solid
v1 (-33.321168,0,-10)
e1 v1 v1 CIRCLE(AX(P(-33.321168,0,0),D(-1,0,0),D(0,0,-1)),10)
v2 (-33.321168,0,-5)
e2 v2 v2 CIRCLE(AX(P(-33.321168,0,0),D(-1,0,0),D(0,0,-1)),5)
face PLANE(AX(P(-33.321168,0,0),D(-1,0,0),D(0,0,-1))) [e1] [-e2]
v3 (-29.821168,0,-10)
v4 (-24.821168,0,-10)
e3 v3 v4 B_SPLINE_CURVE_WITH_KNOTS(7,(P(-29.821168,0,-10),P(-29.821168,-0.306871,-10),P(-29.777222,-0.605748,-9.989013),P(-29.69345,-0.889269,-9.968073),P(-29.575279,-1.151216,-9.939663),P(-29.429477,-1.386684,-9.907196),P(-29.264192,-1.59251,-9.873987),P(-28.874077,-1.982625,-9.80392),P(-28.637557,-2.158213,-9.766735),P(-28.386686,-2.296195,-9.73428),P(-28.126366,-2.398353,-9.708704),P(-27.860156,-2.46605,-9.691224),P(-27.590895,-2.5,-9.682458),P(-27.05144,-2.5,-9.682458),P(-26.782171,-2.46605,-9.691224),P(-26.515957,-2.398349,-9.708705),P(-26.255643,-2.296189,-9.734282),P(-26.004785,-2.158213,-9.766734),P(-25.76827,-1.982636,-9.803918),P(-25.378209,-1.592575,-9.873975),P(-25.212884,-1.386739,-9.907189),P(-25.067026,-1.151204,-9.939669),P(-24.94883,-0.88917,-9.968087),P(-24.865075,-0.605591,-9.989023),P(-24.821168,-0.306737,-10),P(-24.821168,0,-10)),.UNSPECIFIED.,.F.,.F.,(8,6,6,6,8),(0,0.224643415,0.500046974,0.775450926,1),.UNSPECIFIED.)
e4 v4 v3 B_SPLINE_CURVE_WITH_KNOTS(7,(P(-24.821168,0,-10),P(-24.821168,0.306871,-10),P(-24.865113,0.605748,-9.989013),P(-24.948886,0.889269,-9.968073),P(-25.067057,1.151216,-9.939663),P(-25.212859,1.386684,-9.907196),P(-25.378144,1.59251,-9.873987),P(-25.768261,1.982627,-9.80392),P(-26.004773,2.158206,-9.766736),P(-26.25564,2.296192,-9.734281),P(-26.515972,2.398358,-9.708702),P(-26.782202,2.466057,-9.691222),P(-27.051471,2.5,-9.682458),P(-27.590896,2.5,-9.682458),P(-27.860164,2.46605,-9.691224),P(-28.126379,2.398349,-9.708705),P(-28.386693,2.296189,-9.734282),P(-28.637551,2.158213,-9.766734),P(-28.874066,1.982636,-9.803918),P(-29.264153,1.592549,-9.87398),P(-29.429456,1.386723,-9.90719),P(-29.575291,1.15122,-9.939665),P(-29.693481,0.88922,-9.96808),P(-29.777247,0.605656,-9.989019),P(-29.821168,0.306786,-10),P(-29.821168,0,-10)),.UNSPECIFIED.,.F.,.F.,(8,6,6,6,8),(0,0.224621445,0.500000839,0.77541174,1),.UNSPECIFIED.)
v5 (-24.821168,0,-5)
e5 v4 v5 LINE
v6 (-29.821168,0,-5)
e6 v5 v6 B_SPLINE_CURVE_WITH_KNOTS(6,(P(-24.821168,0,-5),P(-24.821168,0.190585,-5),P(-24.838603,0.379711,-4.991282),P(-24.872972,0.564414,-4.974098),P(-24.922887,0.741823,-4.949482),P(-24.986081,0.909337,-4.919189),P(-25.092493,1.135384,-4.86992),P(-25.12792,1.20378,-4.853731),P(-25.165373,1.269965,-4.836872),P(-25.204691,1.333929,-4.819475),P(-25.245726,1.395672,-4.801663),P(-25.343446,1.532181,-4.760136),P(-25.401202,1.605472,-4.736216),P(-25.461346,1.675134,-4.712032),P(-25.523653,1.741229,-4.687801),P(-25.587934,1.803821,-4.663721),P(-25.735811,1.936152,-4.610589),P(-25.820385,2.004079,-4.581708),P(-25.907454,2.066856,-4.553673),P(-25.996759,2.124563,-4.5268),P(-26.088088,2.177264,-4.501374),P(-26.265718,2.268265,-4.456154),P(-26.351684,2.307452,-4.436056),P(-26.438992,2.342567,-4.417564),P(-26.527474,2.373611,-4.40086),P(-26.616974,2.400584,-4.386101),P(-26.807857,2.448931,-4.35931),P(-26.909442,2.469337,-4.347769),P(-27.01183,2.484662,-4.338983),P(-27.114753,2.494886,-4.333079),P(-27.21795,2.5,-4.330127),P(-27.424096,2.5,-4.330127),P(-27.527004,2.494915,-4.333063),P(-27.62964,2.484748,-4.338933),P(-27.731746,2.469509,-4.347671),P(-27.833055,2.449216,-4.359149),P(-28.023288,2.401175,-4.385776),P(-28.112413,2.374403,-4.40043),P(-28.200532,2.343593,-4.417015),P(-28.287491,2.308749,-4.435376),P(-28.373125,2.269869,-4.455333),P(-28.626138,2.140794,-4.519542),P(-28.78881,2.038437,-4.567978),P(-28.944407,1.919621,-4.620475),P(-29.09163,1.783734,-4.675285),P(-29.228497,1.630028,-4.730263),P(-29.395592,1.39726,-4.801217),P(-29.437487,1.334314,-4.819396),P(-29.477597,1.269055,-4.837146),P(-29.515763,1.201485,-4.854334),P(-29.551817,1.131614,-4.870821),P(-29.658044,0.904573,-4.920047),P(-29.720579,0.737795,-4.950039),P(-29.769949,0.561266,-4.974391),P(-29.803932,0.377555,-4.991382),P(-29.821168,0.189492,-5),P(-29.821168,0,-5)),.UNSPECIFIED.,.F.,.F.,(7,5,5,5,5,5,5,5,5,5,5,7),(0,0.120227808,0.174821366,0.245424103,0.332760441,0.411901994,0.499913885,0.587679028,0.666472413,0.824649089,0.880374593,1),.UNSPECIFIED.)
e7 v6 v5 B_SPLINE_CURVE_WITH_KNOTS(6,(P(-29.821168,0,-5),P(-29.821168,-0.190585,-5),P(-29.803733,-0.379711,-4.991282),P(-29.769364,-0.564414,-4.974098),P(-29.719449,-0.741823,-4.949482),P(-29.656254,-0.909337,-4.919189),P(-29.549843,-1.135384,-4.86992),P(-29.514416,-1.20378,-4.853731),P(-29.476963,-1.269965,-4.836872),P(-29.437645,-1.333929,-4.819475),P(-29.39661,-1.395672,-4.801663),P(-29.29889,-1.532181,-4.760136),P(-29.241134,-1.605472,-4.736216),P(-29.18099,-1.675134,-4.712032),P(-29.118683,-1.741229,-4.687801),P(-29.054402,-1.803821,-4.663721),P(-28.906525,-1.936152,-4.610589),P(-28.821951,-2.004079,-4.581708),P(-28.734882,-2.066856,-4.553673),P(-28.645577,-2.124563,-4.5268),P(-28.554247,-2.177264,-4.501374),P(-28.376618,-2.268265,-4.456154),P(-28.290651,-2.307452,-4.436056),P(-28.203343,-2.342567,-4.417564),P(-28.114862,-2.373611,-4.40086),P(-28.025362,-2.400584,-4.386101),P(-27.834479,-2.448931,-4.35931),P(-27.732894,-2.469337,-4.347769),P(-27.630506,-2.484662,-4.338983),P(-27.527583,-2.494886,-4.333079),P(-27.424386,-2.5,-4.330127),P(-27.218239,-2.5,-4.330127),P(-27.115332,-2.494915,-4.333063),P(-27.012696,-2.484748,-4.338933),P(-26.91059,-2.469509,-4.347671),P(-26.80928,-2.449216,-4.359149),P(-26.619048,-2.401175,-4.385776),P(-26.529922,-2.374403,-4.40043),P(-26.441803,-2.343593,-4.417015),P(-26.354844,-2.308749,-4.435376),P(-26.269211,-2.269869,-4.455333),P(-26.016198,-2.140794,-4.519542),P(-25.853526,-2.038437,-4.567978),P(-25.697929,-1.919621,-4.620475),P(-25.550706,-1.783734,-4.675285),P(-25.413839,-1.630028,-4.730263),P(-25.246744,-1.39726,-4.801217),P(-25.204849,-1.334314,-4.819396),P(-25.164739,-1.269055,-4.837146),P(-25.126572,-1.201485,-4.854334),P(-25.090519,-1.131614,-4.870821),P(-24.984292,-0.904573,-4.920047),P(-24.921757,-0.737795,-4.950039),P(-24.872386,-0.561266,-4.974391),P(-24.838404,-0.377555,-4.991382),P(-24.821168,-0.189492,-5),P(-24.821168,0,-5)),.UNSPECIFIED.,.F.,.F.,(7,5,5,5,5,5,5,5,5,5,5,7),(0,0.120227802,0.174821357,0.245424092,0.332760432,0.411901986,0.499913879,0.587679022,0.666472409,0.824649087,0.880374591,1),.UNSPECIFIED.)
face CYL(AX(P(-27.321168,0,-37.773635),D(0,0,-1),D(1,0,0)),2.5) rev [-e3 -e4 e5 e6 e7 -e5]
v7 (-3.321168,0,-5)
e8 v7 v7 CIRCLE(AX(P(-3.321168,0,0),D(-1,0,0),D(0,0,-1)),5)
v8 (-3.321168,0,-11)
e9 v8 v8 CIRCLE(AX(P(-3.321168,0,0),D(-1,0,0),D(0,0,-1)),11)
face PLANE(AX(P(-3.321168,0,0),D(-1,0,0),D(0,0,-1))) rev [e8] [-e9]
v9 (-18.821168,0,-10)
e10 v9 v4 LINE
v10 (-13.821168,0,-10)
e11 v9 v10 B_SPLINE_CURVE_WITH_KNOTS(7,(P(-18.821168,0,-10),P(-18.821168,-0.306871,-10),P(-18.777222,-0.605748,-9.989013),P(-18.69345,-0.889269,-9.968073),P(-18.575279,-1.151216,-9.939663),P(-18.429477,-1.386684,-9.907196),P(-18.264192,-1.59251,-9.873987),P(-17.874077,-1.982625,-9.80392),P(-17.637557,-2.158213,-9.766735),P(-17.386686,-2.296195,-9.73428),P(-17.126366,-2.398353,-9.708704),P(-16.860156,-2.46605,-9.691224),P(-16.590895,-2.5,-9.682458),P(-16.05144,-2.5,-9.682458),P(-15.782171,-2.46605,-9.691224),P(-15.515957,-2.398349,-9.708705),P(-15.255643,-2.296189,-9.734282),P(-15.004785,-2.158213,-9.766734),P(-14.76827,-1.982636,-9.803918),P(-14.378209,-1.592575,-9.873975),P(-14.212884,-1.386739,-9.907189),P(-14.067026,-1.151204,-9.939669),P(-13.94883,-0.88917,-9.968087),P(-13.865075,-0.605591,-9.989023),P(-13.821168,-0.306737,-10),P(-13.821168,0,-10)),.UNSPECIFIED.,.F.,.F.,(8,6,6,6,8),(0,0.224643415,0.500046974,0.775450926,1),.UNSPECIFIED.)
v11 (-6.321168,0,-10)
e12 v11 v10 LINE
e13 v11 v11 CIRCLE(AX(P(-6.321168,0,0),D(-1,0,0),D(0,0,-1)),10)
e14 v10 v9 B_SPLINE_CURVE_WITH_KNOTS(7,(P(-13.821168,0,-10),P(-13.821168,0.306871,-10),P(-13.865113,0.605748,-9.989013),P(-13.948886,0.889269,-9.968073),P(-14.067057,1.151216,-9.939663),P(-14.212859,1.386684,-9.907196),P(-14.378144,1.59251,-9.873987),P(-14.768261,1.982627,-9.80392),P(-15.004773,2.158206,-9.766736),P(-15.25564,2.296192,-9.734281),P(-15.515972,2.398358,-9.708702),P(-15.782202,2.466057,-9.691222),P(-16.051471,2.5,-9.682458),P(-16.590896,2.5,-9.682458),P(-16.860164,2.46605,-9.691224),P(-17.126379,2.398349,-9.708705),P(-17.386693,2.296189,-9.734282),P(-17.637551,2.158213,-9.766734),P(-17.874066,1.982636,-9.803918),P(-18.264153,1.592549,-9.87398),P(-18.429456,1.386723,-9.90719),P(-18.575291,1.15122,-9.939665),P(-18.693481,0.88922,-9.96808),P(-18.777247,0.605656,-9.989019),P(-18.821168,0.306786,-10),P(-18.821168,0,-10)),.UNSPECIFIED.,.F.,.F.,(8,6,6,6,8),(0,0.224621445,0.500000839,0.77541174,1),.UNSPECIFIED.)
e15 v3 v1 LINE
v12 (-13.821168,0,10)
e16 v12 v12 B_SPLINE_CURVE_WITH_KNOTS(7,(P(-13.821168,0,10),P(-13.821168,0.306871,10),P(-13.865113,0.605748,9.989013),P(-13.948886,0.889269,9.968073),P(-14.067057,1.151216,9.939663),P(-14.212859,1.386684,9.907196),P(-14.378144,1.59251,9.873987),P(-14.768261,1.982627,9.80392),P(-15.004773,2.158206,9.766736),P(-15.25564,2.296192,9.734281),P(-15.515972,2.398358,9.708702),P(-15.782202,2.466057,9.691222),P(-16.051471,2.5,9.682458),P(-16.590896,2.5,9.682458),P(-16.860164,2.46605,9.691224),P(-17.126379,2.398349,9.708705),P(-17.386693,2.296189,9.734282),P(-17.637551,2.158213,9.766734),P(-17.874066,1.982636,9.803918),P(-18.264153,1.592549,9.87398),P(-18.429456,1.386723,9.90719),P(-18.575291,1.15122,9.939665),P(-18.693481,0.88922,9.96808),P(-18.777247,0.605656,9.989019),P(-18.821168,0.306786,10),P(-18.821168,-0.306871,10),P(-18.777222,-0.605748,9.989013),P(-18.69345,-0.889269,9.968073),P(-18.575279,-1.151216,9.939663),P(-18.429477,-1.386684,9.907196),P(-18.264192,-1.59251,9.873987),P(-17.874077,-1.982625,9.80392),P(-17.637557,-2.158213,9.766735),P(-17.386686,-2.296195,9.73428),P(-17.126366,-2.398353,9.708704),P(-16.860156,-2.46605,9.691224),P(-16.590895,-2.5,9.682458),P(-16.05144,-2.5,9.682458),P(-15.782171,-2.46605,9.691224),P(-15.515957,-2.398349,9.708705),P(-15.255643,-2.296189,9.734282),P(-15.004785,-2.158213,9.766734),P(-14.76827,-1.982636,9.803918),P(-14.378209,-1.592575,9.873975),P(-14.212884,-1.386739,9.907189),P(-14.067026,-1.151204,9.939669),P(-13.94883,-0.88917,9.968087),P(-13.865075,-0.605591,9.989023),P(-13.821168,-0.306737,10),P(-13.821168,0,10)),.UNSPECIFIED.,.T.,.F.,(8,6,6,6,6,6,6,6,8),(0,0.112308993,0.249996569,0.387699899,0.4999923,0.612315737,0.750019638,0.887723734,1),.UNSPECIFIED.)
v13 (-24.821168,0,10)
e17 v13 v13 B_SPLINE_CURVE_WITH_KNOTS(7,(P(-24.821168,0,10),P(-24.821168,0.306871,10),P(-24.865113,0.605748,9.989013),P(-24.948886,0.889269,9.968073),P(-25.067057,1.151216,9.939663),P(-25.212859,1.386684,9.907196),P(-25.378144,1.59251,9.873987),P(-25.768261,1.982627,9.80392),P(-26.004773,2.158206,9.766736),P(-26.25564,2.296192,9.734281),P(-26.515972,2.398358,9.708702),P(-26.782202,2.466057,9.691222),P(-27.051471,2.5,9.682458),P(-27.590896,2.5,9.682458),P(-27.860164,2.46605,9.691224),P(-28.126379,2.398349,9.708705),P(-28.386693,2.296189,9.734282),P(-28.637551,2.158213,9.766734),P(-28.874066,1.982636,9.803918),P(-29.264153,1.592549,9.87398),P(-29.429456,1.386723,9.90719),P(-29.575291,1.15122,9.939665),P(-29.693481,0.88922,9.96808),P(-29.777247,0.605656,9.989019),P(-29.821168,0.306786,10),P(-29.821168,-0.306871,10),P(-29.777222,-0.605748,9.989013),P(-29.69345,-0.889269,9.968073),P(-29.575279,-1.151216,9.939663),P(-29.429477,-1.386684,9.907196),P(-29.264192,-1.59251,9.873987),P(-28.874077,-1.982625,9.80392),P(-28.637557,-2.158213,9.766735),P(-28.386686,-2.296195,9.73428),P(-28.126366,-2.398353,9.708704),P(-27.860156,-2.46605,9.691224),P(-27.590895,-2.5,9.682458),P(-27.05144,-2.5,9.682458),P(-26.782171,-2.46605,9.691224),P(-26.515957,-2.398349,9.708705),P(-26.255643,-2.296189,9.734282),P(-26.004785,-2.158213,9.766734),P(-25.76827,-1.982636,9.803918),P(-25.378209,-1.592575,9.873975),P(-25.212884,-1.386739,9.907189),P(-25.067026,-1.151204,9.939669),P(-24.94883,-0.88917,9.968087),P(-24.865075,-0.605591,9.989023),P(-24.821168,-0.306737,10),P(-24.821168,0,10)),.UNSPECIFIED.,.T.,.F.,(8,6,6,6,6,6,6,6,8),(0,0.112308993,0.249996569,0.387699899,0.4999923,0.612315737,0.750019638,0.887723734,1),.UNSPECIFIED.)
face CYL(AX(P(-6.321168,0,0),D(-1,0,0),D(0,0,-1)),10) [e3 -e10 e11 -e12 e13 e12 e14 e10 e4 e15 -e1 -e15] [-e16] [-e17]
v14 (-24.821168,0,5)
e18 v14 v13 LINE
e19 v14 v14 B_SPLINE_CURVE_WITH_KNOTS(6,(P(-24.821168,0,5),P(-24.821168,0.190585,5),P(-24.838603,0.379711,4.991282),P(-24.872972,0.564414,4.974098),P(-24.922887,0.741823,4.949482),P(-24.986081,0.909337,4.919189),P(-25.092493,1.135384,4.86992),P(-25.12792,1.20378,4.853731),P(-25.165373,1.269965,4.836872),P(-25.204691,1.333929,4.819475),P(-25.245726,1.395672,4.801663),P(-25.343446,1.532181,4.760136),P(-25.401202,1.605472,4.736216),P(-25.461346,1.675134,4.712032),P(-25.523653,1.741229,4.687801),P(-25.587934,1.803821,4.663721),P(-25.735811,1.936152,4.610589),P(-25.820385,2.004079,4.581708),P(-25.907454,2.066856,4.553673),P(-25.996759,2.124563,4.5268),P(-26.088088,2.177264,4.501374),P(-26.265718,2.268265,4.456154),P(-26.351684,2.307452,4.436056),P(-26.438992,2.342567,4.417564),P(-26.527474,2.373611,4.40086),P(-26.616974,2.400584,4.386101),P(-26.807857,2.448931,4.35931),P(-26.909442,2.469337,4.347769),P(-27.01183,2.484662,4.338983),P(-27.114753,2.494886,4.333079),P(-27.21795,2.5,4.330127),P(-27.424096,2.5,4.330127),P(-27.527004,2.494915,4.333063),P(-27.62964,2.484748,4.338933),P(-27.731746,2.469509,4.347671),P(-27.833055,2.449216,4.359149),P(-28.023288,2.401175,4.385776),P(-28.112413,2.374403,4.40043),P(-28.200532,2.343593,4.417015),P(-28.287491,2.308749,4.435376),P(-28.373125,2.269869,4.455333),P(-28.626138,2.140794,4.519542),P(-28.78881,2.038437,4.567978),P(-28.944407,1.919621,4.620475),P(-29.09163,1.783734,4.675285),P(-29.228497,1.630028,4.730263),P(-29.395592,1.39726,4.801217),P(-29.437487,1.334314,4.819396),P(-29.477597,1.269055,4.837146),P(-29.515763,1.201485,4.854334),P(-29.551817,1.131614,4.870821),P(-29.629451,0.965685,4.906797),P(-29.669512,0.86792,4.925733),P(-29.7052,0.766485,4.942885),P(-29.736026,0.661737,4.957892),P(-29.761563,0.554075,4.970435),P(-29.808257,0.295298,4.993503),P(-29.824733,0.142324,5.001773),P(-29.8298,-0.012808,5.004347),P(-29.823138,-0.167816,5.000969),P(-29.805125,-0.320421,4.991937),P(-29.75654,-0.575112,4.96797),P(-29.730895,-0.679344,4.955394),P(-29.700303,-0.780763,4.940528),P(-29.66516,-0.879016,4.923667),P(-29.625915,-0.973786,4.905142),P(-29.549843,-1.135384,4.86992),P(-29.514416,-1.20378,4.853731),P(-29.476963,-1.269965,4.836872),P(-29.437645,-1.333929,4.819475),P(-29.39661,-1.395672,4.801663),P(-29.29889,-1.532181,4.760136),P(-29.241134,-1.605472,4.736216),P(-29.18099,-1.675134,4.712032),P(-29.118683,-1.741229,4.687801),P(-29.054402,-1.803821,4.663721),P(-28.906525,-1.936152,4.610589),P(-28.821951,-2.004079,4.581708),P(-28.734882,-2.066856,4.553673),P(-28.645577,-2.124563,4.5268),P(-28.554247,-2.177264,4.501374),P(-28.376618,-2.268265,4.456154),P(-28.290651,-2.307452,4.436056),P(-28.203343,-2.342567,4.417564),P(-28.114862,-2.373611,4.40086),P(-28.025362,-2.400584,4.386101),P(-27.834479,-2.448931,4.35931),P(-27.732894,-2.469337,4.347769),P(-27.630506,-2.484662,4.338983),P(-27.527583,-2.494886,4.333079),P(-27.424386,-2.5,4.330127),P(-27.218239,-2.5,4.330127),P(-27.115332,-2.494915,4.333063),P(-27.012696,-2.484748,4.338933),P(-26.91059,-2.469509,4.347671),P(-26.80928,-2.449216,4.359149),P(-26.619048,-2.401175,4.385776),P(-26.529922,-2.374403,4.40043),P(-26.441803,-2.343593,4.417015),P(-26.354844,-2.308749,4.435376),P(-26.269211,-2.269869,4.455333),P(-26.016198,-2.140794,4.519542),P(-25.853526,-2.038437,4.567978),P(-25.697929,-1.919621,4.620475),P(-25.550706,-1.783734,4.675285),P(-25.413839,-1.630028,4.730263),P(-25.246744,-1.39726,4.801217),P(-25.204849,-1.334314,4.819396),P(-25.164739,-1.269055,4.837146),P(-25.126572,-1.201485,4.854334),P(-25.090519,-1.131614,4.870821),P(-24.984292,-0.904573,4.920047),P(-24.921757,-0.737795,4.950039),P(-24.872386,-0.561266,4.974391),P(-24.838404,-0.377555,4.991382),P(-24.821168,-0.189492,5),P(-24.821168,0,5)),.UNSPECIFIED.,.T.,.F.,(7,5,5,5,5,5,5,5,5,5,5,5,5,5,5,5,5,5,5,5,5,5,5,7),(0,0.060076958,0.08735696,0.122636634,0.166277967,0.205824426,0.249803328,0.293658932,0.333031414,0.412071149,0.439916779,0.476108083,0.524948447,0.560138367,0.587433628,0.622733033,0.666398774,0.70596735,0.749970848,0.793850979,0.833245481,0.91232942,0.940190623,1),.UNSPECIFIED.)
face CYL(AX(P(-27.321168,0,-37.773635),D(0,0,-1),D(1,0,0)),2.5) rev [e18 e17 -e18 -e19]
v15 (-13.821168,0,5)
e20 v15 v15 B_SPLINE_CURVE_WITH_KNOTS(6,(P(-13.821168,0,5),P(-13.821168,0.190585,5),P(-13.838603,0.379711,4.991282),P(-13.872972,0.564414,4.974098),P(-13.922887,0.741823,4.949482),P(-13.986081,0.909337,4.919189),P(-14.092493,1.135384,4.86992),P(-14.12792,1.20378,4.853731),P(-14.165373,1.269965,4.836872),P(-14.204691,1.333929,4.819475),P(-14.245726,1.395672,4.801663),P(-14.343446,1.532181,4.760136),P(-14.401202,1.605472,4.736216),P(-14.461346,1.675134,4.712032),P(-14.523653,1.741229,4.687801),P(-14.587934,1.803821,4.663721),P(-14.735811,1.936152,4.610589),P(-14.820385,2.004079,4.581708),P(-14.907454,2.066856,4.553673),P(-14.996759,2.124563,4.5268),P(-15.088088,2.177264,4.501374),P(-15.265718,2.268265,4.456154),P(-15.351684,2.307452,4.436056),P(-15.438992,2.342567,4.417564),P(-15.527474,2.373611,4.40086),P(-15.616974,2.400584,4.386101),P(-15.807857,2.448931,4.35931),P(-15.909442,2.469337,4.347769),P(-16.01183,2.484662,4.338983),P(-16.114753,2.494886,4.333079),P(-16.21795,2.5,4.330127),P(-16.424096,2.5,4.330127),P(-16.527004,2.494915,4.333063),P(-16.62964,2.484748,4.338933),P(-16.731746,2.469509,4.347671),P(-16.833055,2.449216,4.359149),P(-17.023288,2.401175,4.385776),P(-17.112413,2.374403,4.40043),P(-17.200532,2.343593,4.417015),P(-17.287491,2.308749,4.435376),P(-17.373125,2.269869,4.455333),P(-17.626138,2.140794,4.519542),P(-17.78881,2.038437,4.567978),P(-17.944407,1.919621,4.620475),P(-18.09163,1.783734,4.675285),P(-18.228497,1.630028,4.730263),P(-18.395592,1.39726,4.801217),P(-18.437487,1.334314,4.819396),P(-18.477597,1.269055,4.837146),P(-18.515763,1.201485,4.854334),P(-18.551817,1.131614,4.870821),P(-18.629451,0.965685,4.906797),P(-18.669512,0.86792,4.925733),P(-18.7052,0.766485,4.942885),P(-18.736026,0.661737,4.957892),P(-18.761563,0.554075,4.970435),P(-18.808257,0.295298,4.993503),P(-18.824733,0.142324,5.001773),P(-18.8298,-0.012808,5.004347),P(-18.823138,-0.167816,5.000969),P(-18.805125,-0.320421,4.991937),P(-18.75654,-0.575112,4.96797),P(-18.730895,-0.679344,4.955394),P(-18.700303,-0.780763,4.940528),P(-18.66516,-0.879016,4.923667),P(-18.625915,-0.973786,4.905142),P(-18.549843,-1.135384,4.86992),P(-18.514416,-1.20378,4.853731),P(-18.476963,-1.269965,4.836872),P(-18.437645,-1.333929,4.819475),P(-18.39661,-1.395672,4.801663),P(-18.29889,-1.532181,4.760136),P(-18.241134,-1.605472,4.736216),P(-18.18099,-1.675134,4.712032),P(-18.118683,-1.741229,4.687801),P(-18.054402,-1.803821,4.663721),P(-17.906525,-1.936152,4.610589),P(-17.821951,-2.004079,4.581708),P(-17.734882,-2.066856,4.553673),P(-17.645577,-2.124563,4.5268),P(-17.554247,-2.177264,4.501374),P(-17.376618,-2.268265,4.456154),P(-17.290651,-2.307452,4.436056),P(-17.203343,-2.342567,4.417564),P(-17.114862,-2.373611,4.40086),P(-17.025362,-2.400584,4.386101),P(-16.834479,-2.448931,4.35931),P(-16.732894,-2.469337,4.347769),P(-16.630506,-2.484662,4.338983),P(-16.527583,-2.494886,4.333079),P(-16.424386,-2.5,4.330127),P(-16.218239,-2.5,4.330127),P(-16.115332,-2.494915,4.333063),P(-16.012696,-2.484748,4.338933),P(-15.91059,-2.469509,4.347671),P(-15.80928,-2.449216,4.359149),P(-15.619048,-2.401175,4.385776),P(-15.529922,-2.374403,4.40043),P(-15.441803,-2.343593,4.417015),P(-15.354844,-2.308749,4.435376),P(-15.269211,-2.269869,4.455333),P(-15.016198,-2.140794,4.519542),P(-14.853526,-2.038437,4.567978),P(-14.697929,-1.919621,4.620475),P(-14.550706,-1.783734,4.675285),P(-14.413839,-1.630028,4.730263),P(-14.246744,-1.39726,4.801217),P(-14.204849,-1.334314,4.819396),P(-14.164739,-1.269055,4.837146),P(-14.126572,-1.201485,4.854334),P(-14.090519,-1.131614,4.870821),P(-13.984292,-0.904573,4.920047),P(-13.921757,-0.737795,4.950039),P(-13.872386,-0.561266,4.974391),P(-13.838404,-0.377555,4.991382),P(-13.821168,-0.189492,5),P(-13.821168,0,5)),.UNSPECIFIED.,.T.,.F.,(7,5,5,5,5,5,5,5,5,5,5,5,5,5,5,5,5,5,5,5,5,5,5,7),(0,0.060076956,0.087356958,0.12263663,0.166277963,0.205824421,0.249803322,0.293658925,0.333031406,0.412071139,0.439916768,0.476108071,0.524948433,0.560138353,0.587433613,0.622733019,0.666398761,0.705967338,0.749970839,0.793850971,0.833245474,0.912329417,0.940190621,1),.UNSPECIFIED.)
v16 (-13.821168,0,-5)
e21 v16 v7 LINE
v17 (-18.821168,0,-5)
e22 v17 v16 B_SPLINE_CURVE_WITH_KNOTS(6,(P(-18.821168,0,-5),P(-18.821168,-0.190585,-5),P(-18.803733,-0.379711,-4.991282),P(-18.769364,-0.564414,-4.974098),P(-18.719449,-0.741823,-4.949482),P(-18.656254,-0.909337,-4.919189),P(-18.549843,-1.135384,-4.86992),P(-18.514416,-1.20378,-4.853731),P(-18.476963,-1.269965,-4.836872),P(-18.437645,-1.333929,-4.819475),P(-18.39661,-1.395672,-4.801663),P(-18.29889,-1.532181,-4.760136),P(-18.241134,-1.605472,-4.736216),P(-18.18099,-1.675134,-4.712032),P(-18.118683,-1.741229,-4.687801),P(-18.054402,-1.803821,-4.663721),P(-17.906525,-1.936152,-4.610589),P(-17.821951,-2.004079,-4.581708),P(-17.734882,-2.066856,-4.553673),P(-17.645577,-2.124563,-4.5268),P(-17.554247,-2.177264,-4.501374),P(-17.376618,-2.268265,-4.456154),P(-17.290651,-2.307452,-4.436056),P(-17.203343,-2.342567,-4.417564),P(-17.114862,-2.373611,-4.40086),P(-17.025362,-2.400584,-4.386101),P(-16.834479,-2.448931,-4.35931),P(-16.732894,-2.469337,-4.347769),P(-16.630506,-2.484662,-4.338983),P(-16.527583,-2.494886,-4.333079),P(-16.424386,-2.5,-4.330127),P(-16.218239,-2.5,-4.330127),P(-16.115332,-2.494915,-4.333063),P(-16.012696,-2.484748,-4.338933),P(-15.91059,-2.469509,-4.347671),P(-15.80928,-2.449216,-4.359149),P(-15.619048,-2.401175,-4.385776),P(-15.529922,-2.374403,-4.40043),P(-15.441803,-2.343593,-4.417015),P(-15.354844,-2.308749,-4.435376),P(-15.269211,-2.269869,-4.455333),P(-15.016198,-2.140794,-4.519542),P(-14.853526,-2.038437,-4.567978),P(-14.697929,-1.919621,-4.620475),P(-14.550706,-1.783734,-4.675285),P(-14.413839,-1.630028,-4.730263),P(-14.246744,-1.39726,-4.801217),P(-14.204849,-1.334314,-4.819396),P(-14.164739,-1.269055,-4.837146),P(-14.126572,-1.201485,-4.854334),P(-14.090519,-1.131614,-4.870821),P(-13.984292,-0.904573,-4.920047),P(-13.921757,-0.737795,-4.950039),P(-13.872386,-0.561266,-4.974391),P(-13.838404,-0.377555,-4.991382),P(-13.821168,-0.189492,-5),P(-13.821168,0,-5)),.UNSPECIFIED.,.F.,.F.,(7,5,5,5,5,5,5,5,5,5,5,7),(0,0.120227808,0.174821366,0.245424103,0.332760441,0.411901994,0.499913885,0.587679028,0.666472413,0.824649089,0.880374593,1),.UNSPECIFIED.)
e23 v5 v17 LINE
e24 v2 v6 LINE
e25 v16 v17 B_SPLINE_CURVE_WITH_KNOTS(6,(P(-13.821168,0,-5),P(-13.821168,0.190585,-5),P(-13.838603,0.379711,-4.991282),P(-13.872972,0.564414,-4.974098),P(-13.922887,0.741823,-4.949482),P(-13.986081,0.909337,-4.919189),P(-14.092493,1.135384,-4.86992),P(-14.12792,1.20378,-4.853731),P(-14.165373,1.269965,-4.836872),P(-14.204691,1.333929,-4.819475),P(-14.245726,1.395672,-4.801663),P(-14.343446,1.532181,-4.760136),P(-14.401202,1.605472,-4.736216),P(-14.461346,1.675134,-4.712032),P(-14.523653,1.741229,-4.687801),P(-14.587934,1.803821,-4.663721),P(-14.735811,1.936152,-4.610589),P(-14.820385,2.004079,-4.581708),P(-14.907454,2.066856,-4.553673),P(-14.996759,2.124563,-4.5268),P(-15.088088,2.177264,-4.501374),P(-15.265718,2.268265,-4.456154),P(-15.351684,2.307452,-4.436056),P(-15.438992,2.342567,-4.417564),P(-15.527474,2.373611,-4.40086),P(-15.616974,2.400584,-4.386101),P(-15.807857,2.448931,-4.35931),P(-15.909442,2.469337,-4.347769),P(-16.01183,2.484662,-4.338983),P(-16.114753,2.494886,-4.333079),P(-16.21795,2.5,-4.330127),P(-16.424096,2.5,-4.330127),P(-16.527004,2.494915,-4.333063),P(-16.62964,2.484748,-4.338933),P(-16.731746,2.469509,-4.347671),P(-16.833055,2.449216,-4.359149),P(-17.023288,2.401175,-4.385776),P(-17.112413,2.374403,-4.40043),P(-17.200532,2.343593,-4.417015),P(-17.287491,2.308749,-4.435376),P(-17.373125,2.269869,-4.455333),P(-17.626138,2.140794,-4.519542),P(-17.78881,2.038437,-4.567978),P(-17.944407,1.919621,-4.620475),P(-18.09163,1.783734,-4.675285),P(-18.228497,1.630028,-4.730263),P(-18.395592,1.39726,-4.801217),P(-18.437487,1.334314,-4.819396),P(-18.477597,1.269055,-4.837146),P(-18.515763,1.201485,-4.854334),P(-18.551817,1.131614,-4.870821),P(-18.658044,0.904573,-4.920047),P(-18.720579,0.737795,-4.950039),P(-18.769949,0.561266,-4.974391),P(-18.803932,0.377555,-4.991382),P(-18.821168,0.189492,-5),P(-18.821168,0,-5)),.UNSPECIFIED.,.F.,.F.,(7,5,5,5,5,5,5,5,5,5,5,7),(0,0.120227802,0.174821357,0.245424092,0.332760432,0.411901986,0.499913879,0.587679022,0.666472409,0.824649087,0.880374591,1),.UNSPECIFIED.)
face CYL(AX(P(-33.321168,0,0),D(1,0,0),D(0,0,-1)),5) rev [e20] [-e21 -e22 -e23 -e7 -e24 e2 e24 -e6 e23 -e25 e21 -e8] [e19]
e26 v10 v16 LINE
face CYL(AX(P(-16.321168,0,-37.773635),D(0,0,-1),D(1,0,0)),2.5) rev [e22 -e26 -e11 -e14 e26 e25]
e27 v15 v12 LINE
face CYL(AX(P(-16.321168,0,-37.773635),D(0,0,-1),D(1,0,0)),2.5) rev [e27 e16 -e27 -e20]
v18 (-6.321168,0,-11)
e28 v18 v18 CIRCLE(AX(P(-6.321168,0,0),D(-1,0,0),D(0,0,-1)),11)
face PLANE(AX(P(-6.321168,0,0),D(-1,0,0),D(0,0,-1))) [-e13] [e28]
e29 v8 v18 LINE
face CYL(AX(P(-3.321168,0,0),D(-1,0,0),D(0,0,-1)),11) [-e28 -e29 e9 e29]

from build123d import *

# Parameters (mm, degrees)
CUT_EXTRUDE1_DEPTH      = 37.773634973
CUT_EXTRUDE1_DEPTH_BACK = 37.773634973
SKETCH2_R               = 2.5


with BuildPart() as part:
    # Sketch1 → Revolve1 (revolve)
    with BuildSketch(Plane.XY, mode=Mode.PRIVATE) as revolve1_sk:
        Polygon((-3.321167883, 11), (-6.321167883, 11), (-6.321167883, 10), (-33.321167883, 10), (-33.321167883, 5), (-3.321167883, 5), align=None)
    revolve(revolve1_sk.sketch.rotate(Axis((0, 0, 0), (-1, 0, 0)), 90), axis=Axis((0, 0, 0), (-1, 0, 0)))

    # Sketch2 → Cut-Extrude1 (cut, two sides: drawn at the far end of the back side and taken through both)
    with BuildSketch(Plane.XY.offset(-CUT_EXTRUDE1_DEPTH_BACK)):
        with Locations((-27.321167883, 0)):
            Circle(SKETCH2_R)
        with Locations((-16.321167883, 0)):
            Circle(SKETCH2_R)
    extrude(amount=CUT_EXTRUDE1_DEPTH + CUT_EXTRUDE1_DEPTH_BACK, mode=Mode.SUBTRACT)


solid = part.part
